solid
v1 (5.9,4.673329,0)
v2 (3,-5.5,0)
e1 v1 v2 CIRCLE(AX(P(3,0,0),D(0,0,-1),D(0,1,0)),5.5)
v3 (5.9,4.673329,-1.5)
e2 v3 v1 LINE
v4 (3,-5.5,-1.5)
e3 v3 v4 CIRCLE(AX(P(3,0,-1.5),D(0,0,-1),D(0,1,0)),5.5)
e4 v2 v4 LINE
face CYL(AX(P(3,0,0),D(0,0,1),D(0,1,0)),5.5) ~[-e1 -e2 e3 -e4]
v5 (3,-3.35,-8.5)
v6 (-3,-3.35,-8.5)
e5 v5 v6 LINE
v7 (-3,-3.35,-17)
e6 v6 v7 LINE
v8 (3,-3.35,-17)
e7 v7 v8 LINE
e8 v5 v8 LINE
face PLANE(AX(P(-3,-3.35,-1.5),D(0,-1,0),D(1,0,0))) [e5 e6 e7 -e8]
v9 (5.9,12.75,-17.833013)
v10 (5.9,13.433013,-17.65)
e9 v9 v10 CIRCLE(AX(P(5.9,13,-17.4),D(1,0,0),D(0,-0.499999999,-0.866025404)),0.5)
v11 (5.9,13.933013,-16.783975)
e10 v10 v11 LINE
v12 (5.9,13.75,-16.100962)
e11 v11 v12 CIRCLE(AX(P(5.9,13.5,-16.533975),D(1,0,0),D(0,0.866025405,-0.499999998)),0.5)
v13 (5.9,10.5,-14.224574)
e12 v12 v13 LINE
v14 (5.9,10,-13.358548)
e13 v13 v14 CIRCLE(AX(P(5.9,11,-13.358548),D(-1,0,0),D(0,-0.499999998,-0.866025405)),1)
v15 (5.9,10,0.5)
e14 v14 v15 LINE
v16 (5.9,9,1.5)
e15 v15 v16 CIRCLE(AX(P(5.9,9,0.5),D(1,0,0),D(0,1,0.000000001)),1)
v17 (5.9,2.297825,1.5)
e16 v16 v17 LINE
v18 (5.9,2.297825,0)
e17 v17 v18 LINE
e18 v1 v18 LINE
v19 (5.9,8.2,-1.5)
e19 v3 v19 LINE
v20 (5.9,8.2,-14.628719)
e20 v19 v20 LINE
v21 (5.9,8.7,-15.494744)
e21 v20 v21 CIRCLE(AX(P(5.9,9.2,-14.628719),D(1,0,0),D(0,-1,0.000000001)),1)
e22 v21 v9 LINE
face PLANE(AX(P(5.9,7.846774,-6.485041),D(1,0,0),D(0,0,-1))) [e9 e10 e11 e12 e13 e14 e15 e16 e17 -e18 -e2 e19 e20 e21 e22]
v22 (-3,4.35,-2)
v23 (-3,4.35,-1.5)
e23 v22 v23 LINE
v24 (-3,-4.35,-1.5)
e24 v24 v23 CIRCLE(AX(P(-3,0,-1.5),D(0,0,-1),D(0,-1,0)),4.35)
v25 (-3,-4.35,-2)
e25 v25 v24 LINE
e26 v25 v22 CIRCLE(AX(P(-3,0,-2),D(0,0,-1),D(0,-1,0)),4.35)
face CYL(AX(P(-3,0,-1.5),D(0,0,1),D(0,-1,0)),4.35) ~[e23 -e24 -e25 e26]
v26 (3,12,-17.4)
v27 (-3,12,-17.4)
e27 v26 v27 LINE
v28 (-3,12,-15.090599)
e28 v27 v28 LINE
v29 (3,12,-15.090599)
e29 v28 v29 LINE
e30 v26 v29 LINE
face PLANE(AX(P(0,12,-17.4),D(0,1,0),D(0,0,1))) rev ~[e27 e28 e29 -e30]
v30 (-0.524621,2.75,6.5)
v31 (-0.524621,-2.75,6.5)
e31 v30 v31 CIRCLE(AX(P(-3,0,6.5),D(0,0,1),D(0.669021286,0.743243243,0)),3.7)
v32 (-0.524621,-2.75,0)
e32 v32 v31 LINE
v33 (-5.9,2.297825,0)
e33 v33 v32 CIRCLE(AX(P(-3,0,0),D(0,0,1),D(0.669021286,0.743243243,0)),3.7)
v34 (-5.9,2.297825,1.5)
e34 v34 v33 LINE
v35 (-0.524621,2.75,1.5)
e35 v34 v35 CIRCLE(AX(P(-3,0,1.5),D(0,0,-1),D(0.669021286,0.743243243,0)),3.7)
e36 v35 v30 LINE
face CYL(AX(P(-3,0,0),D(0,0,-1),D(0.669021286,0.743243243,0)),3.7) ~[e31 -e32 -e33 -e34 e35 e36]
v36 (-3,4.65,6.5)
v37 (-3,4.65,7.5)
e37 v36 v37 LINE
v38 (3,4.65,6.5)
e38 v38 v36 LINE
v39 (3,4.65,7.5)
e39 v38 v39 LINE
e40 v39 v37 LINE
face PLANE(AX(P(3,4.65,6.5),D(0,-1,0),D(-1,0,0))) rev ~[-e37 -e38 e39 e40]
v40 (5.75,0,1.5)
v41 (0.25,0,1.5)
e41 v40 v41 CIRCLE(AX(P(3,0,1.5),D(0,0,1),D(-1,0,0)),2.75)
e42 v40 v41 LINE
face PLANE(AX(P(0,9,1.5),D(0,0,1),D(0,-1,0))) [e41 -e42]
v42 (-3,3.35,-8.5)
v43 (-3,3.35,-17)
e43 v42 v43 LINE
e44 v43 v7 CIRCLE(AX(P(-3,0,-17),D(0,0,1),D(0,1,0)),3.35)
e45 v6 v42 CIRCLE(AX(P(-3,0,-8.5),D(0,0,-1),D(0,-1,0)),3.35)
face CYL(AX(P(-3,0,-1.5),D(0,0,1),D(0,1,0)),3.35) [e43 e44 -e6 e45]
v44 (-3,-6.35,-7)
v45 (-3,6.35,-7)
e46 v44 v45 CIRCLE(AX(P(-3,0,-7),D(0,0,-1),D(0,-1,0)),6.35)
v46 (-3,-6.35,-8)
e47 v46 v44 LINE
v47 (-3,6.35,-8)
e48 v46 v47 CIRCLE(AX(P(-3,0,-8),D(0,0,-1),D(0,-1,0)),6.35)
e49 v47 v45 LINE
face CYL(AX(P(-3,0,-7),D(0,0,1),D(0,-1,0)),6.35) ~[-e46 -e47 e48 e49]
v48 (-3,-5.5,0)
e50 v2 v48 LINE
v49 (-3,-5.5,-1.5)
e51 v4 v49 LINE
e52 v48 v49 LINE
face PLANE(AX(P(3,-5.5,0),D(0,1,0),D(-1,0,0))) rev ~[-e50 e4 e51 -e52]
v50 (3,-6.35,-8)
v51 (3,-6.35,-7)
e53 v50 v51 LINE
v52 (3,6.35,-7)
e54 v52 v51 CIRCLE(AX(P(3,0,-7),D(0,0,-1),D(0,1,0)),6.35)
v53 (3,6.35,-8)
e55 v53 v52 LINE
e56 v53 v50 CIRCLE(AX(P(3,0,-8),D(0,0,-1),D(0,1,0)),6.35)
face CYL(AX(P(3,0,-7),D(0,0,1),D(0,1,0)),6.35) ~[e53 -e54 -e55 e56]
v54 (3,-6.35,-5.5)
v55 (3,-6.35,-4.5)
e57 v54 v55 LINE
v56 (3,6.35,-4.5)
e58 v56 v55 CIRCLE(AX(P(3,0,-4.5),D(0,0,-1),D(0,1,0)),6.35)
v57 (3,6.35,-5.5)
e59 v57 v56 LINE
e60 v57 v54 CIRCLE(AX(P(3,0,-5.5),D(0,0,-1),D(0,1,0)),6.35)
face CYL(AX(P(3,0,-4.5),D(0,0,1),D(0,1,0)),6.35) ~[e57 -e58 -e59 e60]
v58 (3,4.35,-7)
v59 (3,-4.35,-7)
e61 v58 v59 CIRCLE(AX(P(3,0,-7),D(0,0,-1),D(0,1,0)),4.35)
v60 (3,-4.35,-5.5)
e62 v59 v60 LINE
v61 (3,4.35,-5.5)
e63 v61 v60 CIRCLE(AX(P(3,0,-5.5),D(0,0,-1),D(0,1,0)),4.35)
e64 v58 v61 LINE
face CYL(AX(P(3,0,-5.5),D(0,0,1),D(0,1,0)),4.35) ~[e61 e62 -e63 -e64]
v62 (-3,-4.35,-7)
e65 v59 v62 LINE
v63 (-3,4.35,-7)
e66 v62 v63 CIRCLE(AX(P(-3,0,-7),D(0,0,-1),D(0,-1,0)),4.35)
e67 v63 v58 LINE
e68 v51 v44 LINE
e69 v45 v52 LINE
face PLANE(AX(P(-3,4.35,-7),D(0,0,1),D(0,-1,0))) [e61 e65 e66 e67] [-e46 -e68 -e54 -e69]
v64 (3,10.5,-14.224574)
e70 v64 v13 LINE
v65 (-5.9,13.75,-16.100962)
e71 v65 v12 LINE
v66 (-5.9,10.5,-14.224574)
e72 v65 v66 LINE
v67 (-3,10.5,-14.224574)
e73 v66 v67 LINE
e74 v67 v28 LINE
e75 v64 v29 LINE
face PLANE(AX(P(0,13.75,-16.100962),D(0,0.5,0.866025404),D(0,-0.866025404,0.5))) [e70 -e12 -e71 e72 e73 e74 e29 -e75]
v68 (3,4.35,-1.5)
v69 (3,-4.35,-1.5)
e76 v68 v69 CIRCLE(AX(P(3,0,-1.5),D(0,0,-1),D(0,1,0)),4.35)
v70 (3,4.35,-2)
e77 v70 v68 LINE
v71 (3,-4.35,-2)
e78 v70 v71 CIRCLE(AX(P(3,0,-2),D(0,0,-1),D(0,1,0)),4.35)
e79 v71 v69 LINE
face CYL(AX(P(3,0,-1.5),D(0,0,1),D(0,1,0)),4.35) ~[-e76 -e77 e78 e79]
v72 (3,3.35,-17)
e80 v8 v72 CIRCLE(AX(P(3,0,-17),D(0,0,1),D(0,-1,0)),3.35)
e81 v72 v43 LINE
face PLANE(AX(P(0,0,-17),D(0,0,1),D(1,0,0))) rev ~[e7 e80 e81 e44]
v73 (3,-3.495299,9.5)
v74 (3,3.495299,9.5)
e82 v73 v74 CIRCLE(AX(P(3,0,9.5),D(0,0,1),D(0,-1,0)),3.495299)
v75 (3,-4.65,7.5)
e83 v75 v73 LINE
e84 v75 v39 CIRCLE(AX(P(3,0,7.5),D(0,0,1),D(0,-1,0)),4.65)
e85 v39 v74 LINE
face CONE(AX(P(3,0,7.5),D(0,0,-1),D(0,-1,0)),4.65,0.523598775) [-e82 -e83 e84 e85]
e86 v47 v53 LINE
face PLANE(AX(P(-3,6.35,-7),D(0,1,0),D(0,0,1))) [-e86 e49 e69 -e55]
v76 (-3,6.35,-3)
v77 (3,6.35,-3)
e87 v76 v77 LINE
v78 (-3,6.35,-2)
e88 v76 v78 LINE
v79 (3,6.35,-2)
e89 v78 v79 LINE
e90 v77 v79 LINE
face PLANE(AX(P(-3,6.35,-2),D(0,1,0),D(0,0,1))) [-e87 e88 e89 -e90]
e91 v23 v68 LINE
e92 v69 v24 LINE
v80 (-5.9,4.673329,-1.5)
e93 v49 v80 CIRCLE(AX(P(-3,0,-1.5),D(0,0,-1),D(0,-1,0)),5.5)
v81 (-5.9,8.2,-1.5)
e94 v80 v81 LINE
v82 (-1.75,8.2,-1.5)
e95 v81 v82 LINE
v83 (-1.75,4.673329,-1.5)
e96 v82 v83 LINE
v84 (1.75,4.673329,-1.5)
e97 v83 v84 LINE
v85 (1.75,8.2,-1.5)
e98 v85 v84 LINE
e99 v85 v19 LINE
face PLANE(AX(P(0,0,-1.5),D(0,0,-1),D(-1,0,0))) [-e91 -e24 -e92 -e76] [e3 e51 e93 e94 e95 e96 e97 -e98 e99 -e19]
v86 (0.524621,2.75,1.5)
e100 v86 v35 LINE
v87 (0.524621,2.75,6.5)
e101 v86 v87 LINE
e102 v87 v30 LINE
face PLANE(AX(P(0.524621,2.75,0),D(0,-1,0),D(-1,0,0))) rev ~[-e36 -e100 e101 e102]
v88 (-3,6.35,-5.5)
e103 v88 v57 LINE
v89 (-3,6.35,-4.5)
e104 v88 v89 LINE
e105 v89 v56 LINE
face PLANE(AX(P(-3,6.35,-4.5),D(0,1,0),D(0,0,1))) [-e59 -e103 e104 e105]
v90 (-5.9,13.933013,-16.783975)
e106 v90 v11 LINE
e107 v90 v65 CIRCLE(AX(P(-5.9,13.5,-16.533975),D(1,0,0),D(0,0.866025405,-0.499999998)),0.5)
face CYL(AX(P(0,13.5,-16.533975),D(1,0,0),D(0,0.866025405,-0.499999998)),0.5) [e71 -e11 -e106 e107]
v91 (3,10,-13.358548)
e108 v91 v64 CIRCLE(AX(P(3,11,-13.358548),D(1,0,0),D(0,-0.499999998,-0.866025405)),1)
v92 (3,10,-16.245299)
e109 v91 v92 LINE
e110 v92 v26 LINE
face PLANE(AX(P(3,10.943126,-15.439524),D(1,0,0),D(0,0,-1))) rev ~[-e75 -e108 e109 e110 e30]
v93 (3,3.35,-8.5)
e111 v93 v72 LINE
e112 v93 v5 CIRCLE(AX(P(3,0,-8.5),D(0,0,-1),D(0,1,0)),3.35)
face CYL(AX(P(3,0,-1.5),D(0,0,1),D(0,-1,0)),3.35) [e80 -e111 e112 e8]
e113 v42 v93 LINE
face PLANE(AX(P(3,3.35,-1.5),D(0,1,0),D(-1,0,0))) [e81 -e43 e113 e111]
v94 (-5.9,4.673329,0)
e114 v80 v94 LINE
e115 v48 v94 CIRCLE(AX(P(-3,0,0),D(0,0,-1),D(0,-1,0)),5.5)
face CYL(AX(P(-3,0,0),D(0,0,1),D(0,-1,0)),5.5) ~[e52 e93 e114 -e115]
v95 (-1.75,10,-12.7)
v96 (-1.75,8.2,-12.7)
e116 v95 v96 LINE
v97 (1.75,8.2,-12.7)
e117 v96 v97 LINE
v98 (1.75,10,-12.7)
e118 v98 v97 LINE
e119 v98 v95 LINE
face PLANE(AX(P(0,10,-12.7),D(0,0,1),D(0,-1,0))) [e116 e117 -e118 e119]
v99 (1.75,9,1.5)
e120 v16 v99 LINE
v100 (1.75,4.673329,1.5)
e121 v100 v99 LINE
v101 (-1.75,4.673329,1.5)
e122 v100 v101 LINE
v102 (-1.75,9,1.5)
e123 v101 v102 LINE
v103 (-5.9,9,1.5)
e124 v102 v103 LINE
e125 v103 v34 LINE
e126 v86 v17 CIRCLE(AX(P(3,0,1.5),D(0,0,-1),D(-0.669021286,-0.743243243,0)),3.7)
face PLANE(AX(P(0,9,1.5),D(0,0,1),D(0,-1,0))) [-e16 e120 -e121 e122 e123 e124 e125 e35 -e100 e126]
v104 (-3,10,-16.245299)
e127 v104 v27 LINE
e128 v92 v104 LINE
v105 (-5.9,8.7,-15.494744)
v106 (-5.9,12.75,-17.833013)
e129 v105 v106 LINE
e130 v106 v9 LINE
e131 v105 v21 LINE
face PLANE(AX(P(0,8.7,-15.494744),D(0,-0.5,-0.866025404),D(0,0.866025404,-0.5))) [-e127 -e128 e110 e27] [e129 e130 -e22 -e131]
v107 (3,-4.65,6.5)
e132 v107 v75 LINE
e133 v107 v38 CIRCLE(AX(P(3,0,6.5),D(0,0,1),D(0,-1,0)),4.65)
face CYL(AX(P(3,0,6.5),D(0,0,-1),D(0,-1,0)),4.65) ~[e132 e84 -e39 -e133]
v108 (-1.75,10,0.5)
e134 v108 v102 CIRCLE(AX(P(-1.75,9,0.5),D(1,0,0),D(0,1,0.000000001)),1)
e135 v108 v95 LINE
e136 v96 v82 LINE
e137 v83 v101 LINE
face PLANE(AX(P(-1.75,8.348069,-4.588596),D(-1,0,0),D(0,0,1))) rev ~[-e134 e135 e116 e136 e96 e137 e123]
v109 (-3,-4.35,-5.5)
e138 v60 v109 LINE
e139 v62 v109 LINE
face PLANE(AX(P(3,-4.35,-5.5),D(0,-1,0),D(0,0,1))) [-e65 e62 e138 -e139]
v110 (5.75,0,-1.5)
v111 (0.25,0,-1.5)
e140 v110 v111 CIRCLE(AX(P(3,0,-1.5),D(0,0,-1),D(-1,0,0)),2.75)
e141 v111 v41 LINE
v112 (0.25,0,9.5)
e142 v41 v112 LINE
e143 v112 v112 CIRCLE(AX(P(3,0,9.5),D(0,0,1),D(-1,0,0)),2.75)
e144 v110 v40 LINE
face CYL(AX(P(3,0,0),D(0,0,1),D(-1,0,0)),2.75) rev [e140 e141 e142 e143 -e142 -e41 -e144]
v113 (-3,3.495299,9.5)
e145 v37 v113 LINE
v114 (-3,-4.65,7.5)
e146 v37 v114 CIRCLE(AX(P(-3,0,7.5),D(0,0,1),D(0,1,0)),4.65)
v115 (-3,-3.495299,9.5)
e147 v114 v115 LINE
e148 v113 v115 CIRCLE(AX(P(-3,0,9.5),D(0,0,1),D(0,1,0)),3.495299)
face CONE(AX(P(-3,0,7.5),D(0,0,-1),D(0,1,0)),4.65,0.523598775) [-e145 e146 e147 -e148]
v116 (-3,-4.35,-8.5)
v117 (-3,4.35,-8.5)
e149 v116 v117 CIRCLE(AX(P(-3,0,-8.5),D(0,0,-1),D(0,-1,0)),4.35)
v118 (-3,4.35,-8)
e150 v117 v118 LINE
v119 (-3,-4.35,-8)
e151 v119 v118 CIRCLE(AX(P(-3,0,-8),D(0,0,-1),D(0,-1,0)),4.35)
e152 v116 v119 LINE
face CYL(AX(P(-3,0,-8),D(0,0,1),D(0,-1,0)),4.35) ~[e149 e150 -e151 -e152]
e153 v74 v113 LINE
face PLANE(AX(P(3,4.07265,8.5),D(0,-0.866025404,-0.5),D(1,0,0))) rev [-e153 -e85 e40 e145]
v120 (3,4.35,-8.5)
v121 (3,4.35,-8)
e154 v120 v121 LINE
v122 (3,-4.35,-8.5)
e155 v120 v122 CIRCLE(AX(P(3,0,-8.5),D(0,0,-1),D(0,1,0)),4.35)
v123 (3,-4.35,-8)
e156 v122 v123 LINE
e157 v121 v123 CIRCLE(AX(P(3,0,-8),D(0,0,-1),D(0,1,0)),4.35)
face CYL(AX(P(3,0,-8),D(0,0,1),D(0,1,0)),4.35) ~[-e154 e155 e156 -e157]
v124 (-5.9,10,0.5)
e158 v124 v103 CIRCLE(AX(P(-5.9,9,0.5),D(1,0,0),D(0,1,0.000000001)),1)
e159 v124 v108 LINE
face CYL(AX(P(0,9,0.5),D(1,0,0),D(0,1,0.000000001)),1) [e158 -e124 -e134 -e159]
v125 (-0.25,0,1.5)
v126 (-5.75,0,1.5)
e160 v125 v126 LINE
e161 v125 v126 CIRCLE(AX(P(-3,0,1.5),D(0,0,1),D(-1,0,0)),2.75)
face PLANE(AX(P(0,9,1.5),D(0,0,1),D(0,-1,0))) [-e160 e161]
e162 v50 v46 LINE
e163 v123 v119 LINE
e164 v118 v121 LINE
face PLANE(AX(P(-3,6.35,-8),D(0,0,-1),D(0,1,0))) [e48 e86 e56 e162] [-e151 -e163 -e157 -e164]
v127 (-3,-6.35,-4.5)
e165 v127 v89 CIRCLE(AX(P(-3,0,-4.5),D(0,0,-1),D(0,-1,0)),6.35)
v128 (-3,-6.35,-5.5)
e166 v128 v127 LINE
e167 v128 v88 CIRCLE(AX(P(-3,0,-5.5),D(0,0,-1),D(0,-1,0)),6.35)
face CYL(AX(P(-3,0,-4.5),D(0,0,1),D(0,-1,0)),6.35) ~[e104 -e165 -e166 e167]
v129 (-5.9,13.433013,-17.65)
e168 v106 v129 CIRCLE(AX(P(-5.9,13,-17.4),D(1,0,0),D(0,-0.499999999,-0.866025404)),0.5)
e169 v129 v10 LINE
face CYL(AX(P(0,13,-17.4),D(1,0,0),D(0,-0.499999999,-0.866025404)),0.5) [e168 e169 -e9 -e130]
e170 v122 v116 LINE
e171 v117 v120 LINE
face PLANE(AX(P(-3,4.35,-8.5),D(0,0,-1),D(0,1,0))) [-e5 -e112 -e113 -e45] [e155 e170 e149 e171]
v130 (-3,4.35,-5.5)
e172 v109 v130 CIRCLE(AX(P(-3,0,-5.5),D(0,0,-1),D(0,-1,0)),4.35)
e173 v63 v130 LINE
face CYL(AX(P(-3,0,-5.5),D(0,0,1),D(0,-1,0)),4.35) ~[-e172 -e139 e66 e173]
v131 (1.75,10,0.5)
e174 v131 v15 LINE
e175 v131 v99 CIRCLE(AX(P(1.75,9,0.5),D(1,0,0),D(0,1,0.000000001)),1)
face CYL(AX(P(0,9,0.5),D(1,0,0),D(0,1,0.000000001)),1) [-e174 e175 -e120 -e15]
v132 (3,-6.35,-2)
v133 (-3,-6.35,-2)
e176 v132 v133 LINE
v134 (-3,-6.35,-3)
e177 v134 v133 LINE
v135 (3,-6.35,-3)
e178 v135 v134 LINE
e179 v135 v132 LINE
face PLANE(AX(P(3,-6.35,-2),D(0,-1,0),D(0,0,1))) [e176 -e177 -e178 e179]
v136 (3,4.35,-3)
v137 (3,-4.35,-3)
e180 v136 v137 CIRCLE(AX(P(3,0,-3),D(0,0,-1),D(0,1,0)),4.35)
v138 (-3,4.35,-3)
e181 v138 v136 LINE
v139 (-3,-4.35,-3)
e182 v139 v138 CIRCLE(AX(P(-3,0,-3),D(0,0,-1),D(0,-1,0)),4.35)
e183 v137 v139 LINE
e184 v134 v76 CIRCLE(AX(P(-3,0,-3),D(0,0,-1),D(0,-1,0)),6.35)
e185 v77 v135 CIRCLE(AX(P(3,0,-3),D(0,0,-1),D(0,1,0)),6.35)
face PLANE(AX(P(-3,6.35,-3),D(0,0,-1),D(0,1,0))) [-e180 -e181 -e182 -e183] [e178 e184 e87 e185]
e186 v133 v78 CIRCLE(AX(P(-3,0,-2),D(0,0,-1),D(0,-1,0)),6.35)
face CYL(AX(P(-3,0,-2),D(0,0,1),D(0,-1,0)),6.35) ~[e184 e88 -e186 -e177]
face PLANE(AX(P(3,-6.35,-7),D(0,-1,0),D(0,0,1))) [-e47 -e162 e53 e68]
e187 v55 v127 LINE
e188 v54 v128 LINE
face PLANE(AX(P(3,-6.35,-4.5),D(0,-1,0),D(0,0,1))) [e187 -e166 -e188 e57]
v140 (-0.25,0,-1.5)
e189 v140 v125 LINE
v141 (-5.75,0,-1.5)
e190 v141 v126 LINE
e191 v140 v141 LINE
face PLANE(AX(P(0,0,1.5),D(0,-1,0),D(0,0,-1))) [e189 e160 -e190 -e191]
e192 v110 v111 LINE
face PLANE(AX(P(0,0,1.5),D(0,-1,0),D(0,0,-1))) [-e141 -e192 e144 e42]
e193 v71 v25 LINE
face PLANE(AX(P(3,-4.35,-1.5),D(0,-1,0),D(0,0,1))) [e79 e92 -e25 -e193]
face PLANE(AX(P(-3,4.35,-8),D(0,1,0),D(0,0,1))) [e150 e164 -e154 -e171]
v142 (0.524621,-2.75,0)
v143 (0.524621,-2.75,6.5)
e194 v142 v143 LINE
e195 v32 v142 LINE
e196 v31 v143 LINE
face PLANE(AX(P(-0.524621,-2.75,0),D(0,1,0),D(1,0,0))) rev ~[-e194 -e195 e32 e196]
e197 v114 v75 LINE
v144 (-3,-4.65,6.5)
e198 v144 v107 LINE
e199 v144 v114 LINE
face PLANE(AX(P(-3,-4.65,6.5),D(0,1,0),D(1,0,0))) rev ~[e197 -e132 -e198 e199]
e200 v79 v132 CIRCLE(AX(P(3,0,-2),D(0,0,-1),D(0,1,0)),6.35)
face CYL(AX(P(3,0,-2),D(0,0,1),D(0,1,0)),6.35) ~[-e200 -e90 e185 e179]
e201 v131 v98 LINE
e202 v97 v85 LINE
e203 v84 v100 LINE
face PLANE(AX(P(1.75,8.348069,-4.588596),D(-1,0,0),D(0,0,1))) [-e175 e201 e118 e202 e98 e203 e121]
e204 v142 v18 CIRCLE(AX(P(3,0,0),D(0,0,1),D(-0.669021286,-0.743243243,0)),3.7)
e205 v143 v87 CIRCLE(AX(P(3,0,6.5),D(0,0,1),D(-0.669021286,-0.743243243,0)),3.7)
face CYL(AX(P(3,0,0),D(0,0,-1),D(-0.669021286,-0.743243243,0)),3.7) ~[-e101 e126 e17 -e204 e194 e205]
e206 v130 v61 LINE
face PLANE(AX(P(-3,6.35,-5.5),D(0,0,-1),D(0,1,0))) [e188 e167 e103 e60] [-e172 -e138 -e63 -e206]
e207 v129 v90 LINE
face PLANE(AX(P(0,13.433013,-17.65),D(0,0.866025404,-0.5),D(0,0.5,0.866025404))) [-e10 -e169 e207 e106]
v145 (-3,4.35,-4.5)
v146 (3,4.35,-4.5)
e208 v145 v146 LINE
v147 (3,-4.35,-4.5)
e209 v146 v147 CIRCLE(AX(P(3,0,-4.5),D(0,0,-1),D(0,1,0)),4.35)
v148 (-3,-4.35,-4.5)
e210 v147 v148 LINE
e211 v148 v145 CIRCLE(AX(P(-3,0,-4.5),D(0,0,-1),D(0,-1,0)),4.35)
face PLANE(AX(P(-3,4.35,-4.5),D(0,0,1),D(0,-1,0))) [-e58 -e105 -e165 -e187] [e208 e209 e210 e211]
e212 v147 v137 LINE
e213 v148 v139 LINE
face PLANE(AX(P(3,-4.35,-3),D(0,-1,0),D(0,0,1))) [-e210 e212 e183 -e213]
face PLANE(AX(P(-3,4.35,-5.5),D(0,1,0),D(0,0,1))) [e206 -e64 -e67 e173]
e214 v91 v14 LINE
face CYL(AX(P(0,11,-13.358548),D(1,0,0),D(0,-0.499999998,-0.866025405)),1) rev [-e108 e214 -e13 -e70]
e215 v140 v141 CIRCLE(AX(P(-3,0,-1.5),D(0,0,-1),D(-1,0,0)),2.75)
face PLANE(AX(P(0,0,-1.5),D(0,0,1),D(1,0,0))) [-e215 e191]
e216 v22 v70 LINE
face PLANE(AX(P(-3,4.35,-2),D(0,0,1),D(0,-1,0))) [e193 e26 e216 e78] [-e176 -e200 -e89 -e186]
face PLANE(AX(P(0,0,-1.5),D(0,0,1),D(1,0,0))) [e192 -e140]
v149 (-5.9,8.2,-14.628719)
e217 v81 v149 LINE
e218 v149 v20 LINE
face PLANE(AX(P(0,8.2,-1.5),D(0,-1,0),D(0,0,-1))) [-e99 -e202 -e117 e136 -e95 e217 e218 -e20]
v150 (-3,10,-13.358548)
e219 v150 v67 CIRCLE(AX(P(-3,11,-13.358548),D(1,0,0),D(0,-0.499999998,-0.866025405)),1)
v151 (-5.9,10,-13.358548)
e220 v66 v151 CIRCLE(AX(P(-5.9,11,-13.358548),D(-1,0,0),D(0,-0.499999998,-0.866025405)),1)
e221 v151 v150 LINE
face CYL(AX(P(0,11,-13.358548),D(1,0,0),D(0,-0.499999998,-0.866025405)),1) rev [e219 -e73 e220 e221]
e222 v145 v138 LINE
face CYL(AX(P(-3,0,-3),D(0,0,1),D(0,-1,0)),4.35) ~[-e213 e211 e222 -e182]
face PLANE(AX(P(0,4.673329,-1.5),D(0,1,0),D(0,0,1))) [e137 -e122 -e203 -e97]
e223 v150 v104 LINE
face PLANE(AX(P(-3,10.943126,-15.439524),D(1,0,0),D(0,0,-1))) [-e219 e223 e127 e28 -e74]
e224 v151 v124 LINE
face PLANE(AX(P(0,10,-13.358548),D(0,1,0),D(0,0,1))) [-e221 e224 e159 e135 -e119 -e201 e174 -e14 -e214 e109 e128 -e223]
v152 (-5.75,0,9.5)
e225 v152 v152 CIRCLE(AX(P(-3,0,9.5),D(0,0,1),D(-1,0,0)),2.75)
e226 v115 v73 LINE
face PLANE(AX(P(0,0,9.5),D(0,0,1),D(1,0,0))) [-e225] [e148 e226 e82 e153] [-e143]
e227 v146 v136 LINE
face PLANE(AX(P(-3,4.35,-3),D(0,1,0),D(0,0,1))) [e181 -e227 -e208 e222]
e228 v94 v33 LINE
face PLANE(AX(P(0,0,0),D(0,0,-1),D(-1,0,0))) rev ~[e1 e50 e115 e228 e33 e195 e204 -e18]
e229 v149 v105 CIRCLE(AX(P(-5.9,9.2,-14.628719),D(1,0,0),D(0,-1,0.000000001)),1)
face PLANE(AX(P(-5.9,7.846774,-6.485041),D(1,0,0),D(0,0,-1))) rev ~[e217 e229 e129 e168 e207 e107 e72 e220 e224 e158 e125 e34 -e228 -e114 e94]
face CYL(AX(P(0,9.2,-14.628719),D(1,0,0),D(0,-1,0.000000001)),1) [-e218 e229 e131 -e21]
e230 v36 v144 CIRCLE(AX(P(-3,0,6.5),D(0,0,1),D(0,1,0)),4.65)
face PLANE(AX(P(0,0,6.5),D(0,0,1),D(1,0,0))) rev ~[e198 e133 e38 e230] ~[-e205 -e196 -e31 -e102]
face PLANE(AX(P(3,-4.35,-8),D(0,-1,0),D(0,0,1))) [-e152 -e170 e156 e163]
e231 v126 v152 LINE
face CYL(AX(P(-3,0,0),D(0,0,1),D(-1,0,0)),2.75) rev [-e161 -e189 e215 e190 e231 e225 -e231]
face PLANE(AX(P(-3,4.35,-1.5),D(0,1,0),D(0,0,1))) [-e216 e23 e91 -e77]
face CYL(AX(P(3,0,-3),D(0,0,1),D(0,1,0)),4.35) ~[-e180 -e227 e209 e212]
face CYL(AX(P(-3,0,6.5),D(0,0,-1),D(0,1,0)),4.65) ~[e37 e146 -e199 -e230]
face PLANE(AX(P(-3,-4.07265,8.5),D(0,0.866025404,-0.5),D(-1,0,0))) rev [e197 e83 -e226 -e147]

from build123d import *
from OCP.BRepFilletAPI import BRepFilletAPI_MakeChamfer

# Parameters (mm, degrees)
SKETCH1_R          = 2.75
EXTRUDE1_DEPTH     = 6.5
SKETCH2_R          = 2.75
EXTRUDE2_DEPTH     = 3
CHAMFER1_SIZE      = 2
CHAMFER1_SIZE2     = 1.154700538
SKETCH4_R          = 2.75
EXTRUDE3_DEPTH     = 1.5
EXTRUDE4_DEPTH     = 5.9
EXTRUDE5_DEPTH     = 15.5
CUT_EXTRUDE1_DEPTH = 3
CUT_EXTRUDE2_DEPTH = 1.75


with BuildPart() as part:
    # Sketch1 → Extrude1 (new body)
    with BuildSketch(Plane.XY):
        with BuildLine():
            Line((0.524621241, 2.75), (-0.524621241, 2.75))
            ThreePointArc((-0.524621241, 2.75), (-6.7, 0), (-0.524621241, -2.75))
            Line((-0.524621241, -2.75), (0.524621241, -2.75))
            ThreePointArc((0.524621241, -2.75), (6.7, 0), (0.524621241, 2.75))
        make_face()
        with Locations(Location((3, 0, 0), (0, 0, 180))):
            Circle(SKETCH1_R, mode=Mode.SUBTRACT)
        with Locations(Location((-3, 0, 0), (0, 0, 180))):
            Circle(SKETCH1_R, mode=Mode.SUBTRACT)
    extrude(amount=EXTRUDE1_DEPTH)

    # Sketch2 → Extrude2 (add)
    with BuildSketch(Plane.XY.offset(6.5)):
        with BuildLine():
            Line((3, 4.65), (-3, 4.65))
            ThreePointArc((-3, 4.65), (-7.65, 0), (-3, -4.65))
            Line((-3, -4.65), (3, -4.65))
            ThreePointArc((3, -4.65), (7.65, 0), (3, 4.65))
        make_face()
        with Locations(Location((3, 0, 0), (0, 0, 180))):
            Circle(SKETCH2_R, mode=Mode.SUBTRACT)
        with Locations(Location((-3, 0, 0), (0, 0, 180))):
            Circle(SKETCH2_R, mode=Mode.SUBTRACT)
    extrude(amount=EXTRUDE2_DEPTH)

    # Chamfer1: one chamfer whose edges measure the first distance from different faces: ONE call of the kernel's chamfer builder (chamfer() names one face for all edges)
    chamfer1_edges_1 = [part.edges().sort_by_distance(p)[0] for p in [
        (7.65, 0, 9.5),
    ]]
    chamfer1_side_1 = [part.faces().sort_by_distance(p)[0] for p in [
        (7.65, 0, 8),
    ]]
    chamfer1_edges_2 = [part.edges().sort_by_distance(p)[0] for p in [
        (0, 4.65, 9.5),
    ]]
    chamfer1_side_2 = [part.faces().sort_by_distance(p)[0] for p in [
        (0, 4.65, 8),
    ]]
    chamfer1_edges_3 = [part.edges().sort_by_distance(p)[0] for p in [
        (-7.65, 0, 9.5),
    ]]
    chamfer1_side_3 = [part.faces().sort_by_distance(p)[0] for p in [
        (-7.65, 0, 8),
    ]]
    chamfer1_edges_4 = [part.edges().sort_by_distance(p)[0] for p in [
        (0, -4.65, 9.5),
    ]]
    chamfer1_side_4 = [part.faces().sort_by_distance(p)[0] for p in [
        (0, -4.65, 8),
    ]]
    chamfer1 = BRepFilletAPI_MakeChamfer(part.part.solid().wrapped)
    for e in chamfer1_edges_1:
        chamfer1.Add(CHAMFER1_SIZE, CHAMFER1_SIZE2, e.wrapped, chamfer1_side_1[0].wrapped)  # the first distance lies on this face
    for e in chamfer1_edges_2:
        chamfer1.Add(CHAMFER1_SIZE, CHAMFER1_SIZE2, e.wrapped, chamfer1_side_2[0].wrapped)  # the first distance lies on this face
    for e in chamfer1_edges_3:
        chamfer1.Add(CHAMFER1_SIZE, CHAMFER1_SIZE2, e.wrapped, chamfer1_side_3[0].wrapped)  # the first distance lies on this face
    for e in chamfer1_edges_4:
        chamfer1.Add(CHAMFER1_SIZE, CHAMFER1_SIZE2, e.wrapped, chamfer1_side_4[0].wrapped)  # the first distance lies on this face
    add(Compound.cast(chamfer1.Shape()), mode=Mode.REPLACE)

    # Sketch4 → Extrude3 (add)
    with BuildSketch(Plane(origin=(0, 0, 0), x_dir=(-1, 0, 0), z_dir=(0, 0, -1))):
        with BuildLine():
            Line((3, 5.5), (-3, 5.5))
            ThreePointArc((-3, 5.5), (-8.5, 0), (-3, -5.5))
            Line((-3, -5.5), (3, -5.5))
            ThreePointArc((3, -5.5), (8.5, 0), (3, 5.5))
        make_face()
        with Locations((3, 0)):
            Circle(SKETCH4_R, mode=Mode.SUBTRACT)
        with Locations((-3, 0)):
            Circle(SKETCH4_R, mode=Mode.SUBTRACT)
    extrude(amount=EXTRUDE3_DEPTH)

    # Sketch5 → Extrude4 (add, symmetric)
    with BuildSketch(Plane(origin=(0, 0, 0), x_dir=(0, 0, -1), z_dir=(1, 0, 0))):
        with BuildLine():
            Line((1.5, 0), (1.5, 8.2))
            Line((1.5, 8.2), (14.628718708, 8.2))
            ThreePointArc((14.628718708, 8.2), (15.128718708, 8.333974596), (15.494744112, 8.7))
            Line((15.494744112, 8.7), (17.833012702, 12.75))
            ThreePointArc((17.833012702, 12.75), (17.882962913, 13.129409523), (17.65, 13.433012702))
            Line((17.65, 13.433012702), (16.783974596, 13.933012702))
            ThreePointArc((16.783974596, 13.933012702), (16.404565074, 13.982962913), (16.100961894, 13.75))
            Line((16.100961894, 13.75), (14.224573519, 10.5))
            ThreePointArc((14.224573519, 10.5), (13.858548116, 10.133974596), (13.358548116, 10))
            Line((13.358548116, 10), (-0.5, 10))
            ThreePointArc((-0.5, 10), (-1.207106781, 9.707106781), (-1.5, 9))
            Line((-1.5, 9), (-1.5, 0))
            Line((-1.5, 0), (1.5, 0))
        make_face()
    extrude(amount=EXTRUDE4_DEPTH, both=True)

    # Sketch6 → Extrude5 (add)
    with BuildSketch(Plane(origin=(0, 0, -1.5), x_dir=(-1, 0, 0), z_dir=(0, 0, -1))):
        with BuildLine():
            Line((-3, 3.35), (3, 3.35))
            ThreePointArc((3, 3.35), (6.35, 0), (3, -3.35))
            Line((3, -3.35), (-3, -3.35))
            ThreePointArc((-3, -3.35), (-6.35, 0), (-3, 3.35))
        make_face()
    extrude(amount=EXTRUDE5_DEPTH)

    # Sketch10 → Cut-Extrude1 (cut, symmetric)
    with BuildSketch(Plane(origin=(0, 0, 0), x_dir=(0, 0, -1), z_dir=(1, 0, 0))):
        Polygon((17.4, 12), (15.090598923, 12), (13.358548116, 10), (16.245299462, 10), align=None)
    extrude(amount=CUT_EXTRUDE1_DEPTH, both=True, mode=Mode.SUBTRACT)

    # Sketch11 → Cut-Extrude2 (cut, symmetric)
    with BuildSketch(Plane(origin=(0, 0, 0), x_dir=(0, 0, -1), z_dir=(1, 0, 0))):
        Polygon((1.5, 4.673328578), (-1.5, 4.673328578), (-1.5, 10), (12.7, 10), (12.7, 8.2), (1.5, 8.2), align=None)
    extrude(amount=CUT_EXTRUDE2_DEPTH, both=True, mode=Mode.SUBTRACT)

    # Bælg: sweep along a path in Sketch8
    with BuildLine(Plane(origin=(0, 0, -1.5), x_dir=(-1, 0, 0), z_dir=(0, 0, -1))) as b_lg_path:
        Line((3, 3.35), (-3, 3.35))
        ThreePointArc((-3, 3.35), (-6.35, 0), (-3, -3.35))
        Line((-3, -3.35), (3, -3.35))
        ThreePointArc((3, -3.35), (6.35, 0), (3, 3.35))
    # Sketch7 → Bælg (sweep)
    with BuildSketch(Plane(origin=(0, 0, 0), x_dir=(0, 0, -1), z_dir=(1, 0, 0))):
        Polygon((8.5, 3.35), (1.5, 3.35), (1.5, 4.35), (2, 4.35), (2, 6.35), (3, 6.35), (3, 4.35), (4.5, 4.35), (4.5, 6.35), (5.5, 6.35), (5.5, 4.35), (7, 4.35), (7, 6.35), (8, 6.35), (8, 4.35), (8.5, 4.35), align=None)
    sweep(path=b_lg_path.line)


solid = part.part
